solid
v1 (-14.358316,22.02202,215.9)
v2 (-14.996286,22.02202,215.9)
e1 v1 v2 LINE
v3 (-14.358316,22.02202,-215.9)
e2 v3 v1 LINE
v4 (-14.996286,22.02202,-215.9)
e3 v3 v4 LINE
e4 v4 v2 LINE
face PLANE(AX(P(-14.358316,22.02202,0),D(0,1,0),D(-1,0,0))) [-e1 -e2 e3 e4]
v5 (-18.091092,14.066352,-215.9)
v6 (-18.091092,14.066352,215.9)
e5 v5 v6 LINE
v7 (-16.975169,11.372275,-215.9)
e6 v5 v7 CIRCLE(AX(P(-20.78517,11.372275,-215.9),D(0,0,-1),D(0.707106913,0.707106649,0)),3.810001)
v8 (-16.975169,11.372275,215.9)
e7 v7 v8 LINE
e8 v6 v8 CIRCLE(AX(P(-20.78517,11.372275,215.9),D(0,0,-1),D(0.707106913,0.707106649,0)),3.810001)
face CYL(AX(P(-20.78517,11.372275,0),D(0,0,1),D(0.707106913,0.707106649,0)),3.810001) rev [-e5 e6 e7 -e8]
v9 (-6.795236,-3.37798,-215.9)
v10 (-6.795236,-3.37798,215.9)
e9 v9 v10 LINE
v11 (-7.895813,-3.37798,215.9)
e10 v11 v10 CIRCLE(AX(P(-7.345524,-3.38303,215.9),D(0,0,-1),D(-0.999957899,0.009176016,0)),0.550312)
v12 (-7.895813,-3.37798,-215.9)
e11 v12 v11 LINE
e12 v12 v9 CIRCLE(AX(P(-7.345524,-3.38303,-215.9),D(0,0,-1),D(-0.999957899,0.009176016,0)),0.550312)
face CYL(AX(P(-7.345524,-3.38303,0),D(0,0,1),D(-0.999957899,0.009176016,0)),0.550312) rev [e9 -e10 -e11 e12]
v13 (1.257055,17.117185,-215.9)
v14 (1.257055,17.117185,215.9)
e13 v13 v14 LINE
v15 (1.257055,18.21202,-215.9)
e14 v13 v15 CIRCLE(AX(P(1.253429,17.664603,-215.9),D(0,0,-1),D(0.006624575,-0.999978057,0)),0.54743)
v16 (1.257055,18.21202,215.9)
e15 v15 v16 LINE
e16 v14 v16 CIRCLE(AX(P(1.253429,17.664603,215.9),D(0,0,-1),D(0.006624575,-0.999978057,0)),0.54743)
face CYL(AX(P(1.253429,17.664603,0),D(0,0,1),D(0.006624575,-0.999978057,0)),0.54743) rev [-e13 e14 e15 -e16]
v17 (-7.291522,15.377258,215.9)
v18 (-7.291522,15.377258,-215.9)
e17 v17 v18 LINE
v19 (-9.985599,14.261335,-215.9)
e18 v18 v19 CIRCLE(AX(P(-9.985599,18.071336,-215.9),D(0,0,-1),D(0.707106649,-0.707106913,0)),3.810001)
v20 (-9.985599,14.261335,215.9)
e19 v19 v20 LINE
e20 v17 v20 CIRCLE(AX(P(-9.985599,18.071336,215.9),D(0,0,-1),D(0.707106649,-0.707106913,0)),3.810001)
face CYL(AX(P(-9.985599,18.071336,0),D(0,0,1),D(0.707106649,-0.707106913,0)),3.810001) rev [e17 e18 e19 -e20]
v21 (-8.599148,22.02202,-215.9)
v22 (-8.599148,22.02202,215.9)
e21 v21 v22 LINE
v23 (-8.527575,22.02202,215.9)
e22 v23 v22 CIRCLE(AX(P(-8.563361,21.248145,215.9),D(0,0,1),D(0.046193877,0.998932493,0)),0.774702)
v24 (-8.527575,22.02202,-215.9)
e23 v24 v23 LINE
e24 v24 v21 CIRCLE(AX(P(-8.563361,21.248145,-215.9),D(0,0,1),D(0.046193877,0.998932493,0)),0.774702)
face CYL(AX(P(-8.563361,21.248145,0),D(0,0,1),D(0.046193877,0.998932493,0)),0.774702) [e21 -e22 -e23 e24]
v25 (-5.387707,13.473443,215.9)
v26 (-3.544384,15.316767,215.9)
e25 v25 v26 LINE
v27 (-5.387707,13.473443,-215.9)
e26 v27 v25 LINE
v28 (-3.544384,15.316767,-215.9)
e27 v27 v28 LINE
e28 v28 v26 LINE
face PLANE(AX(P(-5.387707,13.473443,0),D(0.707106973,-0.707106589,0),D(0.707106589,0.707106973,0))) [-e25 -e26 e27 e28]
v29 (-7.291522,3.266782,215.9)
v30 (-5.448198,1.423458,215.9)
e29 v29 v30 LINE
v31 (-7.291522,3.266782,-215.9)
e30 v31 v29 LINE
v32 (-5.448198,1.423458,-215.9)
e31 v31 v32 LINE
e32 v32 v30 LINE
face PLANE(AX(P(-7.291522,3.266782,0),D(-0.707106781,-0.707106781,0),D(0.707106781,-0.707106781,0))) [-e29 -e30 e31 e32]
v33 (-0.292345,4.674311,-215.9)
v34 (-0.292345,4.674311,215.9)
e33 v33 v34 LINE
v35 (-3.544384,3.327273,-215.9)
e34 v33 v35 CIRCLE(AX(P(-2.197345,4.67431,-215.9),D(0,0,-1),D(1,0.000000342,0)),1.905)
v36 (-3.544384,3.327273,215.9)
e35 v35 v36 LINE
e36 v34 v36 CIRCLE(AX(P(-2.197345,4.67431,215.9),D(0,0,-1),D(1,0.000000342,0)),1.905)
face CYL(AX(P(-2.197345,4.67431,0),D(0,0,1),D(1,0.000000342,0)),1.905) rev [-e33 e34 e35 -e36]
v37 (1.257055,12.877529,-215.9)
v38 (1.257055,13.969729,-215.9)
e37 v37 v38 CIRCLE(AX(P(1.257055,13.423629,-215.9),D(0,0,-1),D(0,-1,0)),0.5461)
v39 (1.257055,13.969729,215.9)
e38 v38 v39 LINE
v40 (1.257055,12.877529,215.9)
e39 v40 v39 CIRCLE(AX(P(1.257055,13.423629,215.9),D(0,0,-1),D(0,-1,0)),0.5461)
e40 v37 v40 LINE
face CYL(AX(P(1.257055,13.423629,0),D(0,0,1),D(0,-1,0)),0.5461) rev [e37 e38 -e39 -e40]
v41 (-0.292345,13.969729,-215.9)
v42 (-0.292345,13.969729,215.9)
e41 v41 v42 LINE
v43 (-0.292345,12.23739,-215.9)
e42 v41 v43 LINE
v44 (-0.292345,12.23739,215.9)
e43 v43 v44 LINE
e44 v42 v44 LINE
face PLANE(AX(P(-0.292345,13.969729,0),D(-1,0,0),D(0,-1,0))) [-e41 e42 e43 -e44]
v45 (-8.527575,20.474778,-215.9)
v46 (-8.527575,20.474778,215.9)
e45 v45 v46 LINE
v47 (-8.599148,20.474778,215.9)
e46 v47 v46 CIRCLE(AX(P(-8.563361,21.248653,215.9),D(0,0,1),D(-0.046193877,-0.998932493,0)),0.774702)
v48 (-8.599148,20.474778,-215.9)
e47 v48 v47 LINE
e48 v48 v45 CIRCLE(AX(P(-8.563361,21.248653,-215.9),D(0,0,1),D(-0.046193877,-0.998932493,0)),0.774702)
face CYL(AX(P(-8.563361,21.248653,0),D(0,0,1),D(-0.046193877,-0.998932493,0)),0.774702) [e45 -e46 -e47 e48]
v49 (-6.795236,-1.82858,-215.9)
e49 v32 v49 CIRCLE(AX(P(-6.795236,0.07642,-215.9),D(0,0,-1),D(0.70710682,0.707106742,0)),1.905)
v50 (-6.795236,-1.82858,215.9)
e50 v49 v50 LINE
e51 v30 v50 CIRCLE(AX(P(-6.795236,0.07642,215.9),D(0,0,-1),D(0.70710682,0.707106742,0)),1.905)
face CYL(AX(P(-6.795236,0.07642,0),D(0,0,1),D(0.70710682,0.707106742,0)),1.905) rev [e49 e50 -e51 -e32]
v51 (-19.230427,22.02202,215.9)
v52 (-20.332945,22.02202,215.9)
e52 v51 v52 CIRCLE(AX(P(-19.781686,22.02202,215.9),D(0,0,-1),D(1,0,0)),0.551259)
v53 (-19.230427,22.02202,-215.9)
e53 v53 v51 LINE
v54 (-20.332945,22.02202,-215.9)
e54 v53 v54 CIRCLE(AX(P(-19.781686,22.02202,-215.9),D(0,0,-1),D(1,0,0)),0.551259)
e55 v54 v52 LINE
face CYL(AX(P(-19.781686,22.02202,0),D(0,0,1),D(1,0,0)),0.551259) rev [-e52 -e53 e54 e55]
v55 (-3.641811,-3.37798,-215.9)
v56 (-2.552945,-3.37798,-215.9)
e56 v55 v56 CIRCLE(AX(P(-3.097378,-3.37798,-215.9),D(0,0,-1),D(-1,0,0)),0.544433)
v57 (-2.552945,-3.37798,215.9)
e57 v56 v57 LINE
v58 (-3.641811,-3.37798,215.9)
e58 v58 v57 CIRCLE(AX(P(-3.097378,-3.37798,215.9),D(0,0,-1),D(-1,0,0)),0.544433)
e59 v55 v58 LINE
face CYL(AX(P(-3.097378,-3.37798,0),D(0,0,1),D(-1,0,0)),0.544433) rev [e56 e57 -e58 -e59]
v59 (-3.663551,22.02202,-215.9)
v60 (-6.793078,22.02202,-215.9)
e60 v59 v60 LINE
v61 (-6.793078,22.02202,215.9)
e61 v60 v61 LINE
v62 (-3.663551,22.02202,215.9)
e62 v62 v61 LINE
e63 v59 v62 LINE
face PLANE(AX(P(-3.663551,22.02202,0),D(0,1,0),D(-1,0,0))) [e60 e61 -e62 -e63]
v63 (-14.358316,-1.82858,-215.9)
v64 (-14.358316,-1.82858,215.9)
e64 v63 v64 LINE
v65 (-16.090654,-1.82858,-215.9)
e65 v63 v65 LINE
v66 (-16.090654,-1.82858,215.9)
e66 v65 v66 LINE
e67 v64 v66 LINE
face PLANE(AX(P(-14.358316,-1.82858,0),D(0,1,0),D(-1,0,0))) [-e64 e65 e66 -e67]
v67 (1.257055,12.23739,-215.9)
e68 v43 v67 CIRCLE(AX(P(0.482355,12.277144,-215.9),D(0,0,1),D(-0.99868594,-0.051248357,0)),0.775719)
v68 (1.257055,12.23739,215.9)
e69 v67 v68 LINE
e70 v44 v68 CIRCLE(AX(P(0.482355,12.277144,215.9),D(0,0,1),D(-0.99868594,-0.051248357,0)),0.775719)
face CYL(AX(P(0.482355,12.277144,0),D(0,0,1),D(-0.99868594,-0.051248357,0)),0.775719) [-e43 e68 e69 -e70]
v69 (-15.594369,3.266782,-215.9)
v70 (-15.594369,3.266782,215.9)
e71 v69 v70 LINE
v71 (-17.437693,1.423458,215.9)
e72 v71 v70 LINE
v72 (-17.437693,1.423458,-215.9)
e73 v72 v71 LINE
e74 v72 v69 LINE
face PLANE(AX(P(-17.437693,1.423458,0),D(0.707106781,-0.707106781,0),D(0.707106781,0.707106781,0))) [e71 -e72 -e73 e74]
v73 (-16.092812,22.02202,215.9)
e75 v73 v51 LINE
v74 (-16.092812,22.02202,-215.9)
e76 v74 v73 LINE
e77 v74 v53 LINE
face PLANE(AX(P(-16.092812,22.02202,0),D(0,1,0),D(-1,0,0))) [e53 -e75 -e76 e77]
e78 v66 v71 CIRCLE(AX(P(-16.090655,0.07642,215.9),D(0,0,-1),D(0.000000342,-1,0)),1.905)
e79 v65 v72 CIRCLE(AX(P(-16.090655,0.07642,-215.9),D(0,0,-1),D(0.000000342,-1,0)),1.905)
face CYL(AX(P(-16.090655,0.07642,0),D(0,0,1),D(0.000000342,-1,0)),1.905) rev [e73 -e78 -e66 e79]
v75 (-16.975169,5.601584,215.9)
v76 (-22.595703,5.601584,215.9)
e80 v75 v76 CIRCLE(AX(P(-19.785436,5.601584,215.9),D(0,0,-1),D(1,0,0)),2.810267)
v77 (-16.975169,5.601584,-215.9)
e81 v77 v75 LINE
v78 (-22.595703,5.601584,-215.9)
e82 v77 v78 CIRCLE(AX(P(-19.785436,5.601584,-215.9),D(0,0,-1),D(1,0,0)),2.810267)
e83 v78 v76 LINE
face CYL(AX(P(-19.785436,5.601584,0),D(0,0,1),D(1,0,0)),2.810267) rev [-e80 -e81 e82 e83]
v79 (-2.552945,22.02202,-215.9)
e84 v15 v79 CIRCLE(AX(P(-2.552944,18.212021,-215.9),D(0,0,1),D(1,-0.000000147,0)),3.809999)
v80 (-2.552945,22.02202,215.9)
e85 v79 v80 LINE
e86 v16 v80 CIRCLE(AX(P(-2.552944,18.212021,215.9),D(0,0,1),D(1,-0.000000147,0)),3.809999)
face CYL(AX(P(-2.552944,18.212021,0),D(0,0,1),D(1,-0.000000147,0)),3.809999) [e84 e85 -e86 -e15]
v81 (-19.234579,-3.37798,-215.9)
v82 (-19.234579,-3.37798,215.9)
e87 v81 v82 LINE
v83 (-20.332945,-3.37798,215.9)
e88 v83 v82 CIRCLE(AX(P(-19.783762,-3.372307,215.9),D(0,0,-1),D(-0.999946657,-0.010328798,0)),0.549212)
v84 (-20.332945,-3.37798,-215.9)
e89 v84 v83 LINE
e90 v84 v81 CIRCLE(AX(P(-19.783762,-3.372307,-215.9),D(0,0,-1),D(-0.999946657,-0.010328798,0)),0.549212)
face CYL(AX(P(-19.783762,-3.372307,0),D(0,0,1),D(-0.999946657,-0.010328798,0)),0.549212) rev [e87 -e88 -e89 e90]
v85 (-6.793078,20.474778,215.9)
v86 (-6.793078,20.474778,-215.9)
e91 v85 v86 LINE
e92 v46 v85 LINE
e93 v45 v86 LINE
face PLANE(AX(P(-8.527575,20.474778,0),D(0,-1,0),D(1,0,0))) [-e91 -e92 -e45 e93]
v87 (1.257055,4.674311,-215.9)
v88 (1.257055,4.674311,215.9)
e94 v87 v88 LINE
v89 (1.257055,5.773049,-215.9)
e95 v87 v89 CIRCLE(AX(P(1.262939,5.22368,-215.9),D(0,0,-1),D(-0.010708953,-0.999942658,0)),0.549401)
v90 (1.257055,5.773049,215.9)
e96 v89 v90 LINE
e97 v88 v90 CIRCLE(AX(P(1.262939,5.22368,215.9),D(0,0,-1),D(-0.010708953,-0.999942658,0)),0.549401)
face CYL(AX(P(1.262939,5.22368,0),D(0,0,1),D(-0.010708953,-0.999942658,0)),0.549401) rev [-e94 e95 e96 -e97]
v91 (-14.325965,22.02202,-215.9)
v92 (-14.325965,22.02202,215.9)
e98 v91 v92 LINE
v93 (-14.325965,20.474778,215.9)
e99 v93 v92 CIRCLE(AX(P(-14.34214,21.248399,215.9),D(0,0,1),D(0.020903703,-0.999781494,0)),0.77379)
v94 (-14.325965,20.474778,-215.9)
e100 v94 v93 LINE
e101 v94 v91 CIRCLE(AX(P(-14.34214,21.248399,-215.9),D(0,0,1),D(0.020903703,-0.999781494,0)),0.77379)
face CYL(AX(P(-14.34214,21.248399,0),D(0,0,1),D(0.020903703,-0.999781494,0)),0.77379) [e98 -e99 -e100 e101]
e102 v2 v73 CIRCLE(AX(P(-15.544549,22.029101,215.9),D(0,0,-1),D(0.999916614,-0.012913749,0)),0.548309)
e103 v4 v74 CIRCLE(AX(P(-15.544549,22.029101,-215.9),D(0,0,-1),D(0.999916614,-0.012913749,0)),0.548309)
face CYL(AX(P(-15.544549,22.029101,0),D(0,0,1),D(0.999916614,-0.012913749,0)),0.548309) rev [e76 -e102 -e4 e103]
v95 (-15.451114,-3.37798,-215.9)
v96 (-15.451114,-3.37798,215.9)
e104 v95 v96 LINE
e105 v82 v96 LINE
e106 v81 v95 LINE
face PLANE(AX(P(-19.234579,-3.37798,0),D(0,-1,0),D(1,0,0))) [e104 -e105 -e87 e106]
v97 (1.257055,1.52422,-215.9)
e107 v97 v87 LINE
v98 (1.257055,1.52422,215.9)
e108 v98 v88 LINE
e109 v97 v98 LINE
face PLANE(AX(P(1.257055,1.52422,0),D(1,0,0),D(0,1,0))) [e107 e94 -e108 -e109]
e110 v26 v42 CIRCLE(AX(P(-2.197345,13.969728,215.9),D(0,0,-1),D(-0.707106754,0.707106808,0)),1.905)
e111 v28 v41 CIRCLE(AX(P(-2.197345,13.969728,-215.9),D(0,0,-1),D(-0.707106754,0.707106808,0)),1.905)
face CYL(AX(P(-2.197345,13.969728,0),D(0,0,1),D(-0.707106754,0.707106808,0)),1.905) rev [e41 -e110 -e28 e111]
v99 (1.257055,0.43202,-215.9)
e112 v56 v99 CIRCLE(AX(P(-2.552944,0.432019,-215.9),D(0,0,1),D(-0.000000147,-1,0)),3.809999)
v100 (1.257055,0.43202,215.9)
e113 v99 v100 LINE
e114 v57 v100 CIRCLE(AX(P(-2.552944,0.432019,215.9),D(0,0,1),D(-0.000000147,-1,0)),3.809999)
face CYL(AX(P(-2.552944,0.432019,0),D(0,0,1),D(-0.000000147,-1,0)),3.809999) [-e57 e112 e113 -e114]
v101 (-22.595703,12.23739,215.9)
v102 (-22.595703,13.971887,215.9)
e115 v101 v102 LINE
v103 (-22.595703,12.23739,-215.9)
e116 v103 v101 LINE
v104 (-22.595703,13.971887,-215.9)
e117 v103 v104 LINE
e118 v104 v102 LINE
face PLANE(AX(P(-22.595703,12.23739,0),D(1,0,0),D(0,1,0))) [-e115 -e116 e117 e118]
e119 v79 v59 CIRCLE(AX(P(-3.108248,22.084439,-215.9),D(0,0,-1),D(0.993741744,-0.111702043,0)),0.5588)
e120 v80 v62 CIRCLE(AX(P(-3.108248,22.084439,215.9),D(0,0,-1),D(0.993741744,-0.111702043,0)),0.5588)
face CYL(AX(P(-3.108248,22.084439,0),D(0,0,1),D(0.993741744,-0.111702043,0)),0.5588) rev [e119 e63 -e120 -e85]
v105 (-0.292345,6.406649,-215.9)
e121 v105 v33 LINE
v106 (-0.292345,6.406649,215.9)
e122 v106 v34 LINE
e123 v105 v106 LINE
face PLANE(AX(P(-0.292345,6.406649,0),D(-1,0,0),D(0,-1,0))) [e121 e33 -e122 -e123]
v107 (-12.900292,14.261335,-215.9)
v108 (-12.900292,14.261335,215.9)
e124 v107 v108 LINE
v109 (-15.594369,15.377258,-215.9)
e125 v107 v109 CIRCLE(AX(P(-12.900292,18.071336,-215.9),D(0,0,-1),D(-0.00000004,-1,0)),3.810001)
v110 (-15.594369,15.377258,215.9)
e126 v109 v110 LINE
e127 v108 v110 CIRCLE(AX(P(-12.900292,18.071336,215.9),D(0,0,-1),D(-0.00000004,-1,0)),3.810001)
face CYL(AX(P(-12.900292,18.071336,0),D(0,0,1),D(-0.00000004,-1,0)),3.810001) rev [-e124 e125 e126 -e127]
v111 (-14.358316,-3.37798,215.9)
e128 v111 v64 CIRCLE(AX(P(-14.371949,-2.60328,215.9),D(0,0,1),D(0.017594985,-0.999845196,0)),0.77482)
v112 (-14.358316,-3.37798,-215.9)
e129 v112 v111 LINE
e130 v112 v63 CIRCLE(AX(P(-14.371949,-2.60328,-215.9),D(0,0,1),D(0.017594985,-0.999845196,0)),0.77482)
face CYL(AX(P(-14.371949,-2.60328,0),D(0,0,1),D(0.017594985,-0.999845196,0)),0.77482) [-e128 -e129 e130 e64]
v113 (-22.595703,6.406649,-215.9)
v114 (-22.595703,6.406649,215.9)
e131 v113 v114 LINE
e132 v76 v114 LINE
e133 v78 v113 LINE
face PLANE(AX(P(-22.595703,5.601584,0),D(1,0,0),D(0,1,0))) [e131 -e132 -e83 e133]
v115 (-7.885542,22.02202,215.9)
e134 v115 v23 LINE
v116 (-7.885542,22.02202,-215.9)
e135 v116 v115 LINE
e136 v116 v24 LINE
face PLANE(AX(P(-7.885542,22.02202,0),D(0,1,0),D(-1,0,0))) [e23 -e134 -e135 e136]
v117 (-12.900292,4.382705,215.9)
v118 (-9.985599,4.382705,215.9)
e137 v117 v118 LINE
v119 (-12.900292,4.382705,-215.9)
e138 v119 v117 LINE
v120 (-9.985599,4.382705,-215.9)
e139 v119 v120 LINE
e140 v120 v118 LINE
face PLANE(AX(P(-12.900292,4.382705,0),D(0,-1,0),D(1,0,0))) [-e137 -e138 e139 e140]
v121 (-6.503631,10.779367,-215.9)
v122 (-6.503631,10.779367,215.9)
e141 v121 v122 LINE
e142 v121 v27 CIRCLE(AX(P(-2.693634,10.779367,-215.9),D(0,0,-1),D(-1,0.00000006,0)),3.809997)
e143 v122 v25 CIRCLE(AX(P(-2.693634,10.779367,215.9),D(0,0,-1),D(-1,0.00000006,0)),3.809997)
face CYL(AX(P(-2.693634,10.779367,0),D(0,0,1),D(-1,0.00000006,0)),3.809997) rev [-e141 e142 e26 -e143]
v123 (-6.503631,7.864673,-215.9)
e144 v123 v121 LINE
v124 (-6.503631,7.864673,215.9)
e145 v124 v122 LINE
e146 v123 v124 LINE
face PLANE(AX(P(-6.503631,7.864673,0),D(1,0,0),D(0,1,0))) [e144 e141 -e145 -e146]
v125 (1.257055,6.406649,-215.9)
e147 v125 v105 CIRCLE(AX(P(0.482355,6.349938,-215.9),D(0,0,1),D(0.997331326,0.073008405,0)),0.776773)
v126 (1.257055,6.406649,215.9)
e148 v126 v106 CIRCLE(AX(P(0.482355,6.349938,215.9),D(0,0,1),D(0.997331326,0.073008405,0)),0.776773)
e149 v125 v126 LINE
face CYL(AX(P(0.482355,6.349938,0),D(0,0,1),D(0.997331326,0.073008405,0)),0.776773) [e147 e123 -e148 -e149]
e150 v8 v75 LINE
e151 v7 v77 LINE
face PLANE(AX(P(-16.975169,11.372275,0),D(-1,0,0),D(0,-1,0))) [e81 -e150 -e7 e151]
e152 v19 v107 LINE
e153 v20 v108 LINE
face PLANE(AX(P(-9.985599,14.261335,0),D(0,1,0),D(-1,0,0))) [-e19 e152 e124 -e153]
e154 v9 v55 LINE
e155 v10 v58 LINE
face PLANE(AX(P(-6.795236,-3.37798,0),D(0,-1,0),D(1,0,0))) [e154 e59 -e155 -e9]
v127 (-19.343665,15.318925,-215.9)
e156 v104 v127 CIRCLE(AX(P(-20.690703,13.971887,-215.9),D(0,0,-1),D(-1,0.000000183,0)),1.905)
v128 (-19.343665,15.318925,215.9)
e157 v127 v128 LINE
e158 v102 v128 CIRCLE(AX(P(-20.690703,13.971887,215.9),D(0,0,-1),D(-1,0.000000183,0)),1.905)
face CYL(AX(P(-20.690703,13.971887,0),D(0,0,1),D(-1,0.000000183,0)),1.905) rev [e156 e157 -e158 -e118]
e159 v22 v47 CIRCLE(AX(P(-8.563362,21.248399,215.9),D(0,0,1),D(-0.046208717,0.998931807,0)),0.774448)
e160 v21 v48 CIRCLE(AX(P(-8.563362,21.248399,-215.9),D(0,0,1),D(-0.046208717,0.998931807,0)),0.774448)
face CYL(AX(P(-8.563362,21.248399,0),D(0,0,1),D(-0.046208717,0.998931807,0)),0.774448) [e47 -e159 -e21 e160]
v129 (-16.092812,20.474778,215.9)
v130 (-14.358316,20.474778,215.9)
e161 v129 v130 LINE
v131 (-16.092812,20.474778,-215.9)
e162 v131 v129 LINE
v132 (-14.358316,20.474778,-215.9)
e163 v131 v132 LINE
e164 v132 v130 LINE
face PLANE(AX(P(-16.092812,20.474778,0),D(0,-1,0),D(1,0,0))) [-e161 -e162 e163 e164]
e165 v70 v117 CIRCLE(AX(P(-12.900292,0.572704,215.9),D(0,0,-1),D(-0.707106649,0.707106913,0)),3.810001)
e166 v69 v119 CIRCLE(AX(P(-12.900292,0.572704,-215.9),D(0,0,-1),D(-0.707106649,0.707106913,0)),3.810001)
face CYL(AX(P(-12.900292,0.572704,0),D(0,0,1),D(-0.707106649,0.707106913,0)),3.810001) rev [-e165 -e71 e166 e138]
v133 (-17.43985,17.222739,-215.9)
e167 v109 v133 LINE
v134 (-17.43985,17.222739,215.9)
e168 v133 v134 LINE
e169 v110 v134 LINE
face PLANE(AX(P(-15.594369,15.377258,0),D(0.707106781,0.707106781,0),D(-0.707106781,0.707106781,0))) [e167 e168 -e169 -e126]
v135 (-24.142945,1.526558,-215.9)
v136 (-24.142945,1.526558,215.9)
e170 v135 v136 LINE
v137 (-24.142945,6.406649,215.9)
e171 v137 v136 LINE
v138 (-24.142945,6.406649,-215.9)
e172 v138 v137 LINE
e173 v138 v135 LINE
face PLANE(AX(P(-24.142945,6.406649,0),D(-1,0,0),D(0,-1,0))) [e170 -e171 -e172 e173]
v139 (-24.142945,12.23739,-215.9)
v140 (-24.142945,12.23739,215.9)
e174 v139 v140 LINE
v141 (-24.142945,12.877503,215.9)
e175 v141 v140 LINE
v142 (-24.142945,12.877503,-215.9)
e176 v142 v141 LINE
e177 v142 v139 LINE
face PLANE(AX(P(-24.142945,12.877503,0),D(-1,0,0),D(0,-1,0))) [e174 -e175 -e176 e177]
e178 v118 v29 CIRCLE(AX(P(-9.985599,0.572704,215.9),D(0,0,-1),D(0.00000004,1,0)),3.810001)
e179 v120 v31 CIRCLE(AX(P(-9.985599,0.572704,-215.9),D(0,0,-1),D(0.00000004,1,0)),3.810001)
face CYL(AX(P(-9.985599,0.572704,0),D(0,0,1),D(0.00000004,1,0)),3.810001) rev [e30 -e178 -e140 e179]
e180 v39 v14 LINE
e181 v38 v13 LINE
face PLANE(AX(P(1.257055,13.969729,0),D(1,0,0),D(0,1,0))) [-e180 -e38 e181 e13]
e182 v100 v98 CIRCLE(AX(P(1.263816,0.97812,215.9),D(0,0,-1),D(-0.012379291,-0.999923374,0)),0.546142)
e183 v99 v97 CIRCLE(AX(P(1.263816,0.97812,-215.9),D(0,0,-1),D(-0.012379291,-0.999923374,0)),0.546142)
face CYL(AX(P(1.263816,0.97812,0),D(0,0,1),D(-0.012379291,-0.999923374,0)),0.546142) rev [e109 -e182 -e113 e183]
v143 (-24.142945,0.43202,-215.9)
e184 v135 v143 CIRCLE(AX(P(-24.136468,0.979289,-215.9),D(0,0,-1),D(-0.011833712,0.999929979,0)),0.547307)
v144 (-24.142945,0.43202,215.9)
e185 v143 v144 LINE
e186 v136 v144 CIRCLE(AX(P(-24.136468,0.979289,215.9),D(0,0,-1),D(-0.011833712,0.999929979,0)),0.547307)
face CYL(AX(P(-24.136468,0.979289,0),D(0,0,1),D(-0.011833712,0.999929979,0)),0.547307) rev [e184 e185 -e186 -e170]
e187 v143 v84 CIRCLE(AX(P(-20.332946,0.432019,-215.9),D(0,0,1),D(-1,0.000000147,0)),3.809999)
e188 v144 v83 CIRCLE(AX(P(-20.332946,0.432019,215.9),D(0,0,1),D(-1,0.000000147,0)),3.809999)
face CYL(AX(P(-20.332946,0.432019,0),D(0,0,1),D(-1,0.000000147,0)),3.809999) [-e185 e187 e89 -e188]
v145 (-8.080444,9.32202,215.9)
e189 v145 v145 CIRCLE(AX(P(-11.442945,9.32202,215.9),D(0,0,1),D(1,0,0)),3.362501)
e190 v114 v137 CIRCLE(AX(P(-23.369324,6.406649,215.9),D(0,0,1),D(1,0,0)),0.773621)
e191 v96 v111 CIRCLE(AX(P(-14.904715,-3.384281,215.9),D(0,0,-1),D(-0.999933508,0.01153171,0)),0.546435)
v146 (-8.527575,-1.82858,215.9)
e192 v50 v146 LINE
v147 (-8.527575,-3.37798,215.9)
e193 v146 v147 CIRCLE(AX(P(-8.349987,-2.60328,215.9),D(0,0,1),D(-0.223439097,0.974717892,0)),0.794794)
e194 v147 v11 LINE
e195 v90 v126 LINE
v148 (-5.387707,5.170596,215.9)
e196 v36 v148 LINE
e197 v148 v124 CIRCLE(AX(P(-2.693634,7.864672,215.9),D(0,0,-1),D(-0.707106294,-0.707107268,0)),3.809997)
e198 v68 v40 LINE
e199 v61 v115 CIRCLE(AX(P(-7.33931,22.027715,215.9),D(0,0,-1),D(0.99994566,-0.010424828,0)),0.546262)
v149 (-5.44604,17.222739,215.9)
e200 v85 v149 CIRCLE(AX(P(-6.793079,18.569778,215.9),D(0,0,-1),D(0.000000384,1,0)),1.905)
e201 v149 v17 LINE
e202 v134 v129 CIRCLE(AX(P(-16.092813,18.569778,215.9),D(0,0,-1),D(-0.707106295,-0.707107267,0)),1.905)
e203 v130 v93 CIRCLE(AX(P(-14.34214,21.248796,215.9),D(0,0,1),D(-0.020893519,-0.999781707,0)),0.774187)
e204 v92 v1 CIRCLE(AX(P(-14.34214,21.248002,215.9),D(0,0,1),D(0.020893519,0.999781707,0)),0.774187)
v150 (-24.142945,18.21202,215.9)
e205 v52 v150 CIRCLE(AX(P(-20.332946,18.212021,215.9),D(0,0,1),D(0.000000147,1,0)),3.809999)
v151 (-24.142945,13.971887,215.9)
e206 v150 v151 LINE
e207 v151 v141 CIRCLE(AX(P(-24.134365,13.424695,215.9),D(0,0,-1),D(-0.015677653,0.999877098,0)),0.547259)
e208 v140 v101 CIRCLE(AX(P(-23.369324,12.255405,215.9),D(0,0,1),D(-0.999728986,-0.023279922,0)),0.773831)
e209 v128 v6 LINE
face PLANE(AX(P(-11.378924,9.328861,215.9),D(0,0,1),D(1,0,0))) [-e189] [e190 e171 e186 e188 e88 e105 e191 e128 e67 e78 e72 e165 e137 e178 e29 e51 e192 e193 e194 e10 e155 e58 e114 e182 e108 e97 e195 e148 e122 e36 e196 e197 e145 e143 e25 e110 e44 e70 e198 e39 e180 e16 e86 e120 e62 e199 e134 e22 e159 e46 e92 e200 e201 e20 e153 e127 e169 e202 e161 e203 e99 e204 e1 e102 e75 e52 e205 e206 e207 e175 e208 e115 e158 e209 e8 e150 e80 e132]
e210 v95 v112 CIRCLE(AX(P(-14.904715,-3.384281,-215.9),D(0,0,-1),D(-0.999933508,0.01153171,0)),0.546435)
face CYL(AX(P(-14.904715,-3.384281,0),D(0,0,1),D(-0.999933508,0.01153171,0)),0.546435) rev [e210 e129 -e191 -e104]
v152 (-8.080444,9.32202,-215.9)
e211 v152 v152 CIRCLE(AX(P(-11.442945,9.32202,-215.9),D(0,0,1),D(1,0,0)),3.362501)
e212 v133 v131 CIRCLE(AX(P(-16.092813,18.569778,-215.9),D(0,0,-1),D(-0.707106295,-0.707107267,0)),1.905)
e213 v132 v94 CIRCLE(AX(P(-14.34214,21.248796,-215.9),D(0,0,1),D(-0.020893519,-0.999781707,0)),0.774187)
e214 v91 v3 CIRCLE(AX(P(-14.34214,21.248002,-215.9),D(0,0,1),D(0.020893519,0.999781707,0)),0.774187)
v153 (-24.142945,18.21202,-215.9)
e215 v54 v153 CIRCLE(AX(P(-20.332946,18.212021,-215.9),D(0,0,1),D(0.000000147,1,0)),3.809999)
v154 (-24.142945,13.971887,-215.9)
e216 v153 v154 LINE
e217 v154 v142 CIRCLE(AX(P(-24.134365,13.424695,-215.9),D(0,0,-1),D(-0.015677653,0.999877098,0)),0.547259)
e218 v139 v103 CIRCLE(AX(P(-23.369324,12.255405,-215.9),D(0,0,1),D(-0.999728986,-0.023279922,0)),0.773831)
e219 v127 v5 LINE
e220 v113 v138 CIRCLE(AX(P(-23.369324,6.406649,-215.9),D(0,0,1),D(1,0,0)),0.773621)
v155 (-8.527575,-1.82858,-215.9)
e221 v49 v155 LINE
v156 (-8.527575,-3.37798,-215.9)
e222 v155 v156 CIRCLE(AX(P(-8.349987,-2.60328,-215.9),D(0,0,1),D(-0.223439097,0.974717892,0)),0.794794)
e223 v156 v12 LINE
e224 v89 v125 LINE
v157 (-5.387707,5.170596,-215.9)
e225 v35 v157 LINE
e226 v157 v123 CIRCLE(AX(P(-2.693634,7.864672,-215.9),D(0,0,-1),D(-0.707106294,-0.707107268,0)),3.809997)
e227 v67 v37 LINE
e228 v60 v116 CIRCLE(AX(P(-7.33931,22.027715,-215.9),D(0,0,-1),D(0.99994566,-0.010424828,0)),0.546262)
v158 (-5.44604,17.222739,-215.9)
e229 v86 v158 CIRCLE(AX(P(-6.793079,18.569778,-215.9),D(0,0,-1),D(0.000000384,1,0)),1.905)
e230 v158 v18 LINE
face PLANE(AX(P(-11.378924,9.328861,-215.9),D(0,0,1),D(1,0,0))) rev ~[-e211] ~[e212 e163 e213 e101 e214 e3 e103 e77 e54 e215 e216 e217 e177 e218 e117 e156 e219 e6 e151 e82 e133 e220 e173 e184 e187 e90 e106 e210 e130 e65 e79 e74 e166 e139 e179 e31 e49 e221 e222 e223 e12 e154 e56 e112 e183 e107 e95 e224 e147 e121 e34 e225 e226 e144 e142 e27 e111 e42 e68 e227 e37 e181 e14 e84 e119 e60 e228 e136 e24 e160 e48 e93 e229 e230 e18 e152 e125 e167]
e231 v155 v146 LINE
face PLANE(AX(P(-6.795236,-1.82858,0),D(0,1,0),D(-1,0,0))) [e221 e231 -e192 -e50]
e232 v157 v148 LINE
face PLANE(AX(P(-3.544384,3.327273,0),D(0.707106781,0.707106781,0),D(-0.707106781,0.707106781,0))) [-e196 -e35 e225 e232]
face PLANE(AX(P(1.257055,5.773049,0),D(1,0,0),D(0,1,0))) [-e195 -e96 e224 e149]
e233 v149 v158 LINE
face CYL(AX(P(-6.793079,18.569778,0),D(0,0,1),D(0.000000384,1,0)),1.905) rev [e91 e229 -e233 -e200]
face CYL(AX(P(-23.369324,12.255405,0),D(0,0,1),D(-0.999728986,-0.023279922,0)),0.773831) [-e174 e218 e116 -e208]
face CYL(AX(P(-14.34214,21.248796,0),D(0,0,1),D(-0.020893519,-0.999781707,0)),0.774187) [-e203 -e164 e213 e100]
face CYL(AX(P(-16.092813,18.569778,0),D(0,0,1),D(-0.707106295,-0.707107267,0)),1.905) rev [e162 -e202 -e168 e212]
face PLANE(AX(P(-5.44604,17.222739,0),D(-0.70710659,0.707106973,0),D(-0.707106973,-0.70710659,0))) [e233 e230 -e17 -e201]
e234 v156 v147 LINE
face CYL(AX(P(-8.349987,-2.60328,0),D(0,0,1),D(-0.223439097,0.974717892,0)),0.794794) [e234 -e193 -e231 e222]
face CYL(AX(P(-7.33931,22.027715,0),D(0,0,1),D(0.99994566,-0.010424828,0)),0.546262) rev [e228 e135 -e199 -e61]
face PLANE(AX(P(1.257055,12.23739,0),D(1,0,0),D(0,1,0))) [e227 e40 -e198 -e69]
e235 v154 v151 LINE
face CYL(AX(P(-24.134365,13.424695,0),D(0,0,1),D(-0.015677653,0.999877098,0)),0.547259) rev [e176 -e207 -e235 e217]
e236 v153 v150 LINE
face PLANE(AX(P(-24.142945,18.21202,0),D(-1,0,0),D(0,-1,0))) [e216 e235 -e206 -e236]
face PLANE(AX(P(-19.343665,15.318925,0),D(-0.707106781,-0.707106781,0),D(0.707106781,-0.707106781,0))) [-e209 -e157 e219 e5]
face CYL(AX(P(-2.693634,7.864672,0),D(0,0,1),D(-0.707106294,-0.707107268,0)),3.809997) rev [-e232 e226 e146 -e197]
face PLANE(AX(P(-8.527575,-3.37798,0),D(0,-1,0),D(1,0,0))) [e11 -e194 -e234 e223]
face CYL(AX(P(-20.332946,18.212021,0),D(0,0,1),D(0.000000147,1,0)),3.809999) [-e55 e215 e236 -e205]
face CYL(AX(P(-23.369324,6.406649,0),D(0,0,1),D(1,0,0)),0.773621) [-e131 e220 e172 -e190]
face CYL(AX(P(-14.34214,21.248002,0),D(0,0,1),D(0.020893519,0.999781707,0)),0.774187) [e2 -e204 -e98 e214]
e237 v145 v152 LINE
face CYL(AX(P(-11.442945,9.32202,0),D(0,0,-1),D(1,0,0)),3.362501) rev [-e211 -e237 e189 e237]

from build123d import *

# Parameters (mm, degrees)
F0_R     = 3.362501
F1_DEPTH = 215.9


with BuildPart() as f1:
    # F0 (on Top) → F1 (new body, symmetric)
    with BuildSketch(Plane.XY):
        with BuildLine():
            ThreePointArc((-7.291522, 15.377258), (-8.527575, 14.551354), (-9.985599, 14.261335))
            Line((-9.985599, 14.261335), (-12.900292, 14.261335))
            ThreePointArc((-12.900292, 14.261335), (-14.358316, 14.551354), (-15.594369, 15.377258))
            Line((-15.594369, 15.377258), (-17.43985, 17.222739))
            ThreePointArc((-17.43985, 17.222739), (-17.852803, 19.29879), (-16.092812, 20.474778))
            Line((-16.092812, 20.474778), (-14.358316, 20.474778))
            Line((-14.358316, 20.474778), (-14.325965, 20.474778))
            ThreePointArc((-14.325965, 20.474778), (-13.56835, 21.248399), (-14.325965, 22.02202))
            Line((-14.325965, 22.02202), (-14.358316, 22.02202))
            Line((-14.358316, 22.02202), (-14.996286, 22.02202))
            ThreePointArc((-14.996286, 22.02202), (-15.544549, 21.480792), (-16.092812, 22.02202))
            Line((-16.092812, 22.02202), (-19.230427, 22.02202))
            ThreePointArc((-19.230427, 22.02202), (-19.781686, 21.470761), (-20.332945, 22.02202))
            ThreePointArc((-20.332945, 22.02202), (-23.027022, 20.906097), (-24.142945, 18.21202))
            Line((-24.142945, 18.21202), (-24.142945, 17.126744))
            Line((-24.142945, 17.126744), (-24.142945, 13.971887))
            ThreePointArc((-24.142945, 13.971887), (-23.587106, 13.424695), (-24.142945, 12.877503))
            Line((-24.142945, 12.877503), (-24.142945, 12.23739))
            ThreePointArc((-24.142945, 12.23739), (-23.369324, 11.481574), (-22.595703, 12.23739))
            Line((-22.595703, 12.23739), (-22.595703, 13.971887))
            ThreePointArc((-22.595703, 13.971887), (-21.419715, 15.731877), (-19.343665, 15.318925))
            Line((-19.343665, 15.318925), (-18.091092, 14.066352))
            ThreePointArc((-18.091092, 14.066352), (-17.265188, 12.830299), (-16.975169, 11.372275))
            Line((-16.975169, 11.372275), (-16.975169, 5.601584))
            ThreePointArc((-16.975169, 5.601584), (-19.785436, 2.791317), (-22.595703, 5.601584))
            Line((-22.595703, 5.601584), (-22.595703, 6.406649))
            ThreePointArc((-22.595703, 6.406649), (-23.369324, 7.18027), (-24.142945, 6.406649))
            Line((-24.142945, 6.406649), (-24.142945, 5.771259))
            Line((-24.142945, 5.771259), (-24.142945, 1.526558))
            ThreePointArc((-24.142945, 1.526558), (-23.589161, 0.979289), (-24.142945, 0.43202))
            ThreePointArc((-24.142945, 0.43202), (-23.027022, -2.262057), (-20.332945, -3.37798))
            ThreePointArc((-20.332945, -3.37798), (-19.783762, -2.823095), (-19.234579, -3.37798))
            Line((-19.234579, -3.37798), (-15.451114, -3.37798))
            ThreePointArc((-15.451114, -3.37798), (-14.904715, -2.837846), (-14.358316, -3.37798))
            ThreePointArc((-14.358316, -3.37798), (-13.597129, -2.60328), (-14.358316, -1.82858))
            Line((-14.358316, -1.82858), (-16.090654, -1.82858))
            ThreePointArc((-16.090654, -1.82858), (-17.850645, -0.652592), (-17.437693, 1.423458))
            Line((-17.437693, 1.423458), (-15.594369, 3.266782))
            ThreePointArc((-15.594369, 3.266782), (-14.358316, 4.092686), (-12.900292, 4.382705))
            Line((-12.900292, 4.382705), (-9.985599, 4.382705))
            ThreePointArc((-9.985599, 4.382705), (-8.527575, 4.092686), (-7.291522, 3.266782))
            Line((-7.291522, 3.266782), (-5.448198, 1.423458))
            ThreePointArc((-5.448198, 1.423458), (-5.035246, -0.652592), (-6.795236, -1.82858))
            Line((-6.795236, -1.82858), (-8.527575, -1.82858))
            ThreePointArc((-8.527575, -1.82858), (-9.144781, -2.60328), (-8.527575, -3.37798))
            Line((-8.527575, -3.37798), (-7.895813, -3.37798))
            ThreePointArc((-7.895813, -3.37798), (-7.345525, -2.832718), (-6.795236, -3.37798))
            Line((-6.795236, -3.37798), (-3.641811, -3.37798))
            ThreePointArc((-3.641811, -3.37798), (-3.097378, -2.833547), (-2.552945, -3.37798))
            ThreePointArc((-2.552945, -3.37798), (0.141132, -2.262057), (1.257055, 0.43202))
            ThreePointArc((1.257055, 0.43202), (0.717674, 0.97812), (1.257055, 1.52422))
            Line((1.257055, 1.52422), (1.257055, 4.674311))
            ThreePointArc((1.257055, 4.674311), (0.713538, 5.22368), (1.257055, 5.773049))
            Line((1.257055, 5.773049), (1.257055, 6.406649))
            ThreePointArc((1.257055, 6.406649), (0.482355, 7.126711), (-0.292345, 6.406649))
            Line((-0.292345, 6.406649), (-0.292345, 4.674311))
            ThreePointArc((-0.292345, 4.674311), (-1.468333, 2.91432), (-3.544384, 3.327273))
            Line((-3.544384, 3.327273), (-5.387707, 5.170596))
            ThreePointArc((-5.387707, 5.170596), (-6.213612, 6.406649), (-6.503631, 7.864673))
            Line((-6.503631, 7.864673), (-6.503631, 10.779367))
            ThreePointArc((-6.503631, 10.779367), (-6.213612, 12.23739), (-5.387707, 13.473443))
            Line((-5.387707, 13.473443), (-3.544384, 15.316767))
            ThreePointArc((-3.544384, 15.316767), (-1.468333, 15.729719), (-0.292345, 13.969729))
            Line((-0.292345, 13.969729), (-0.292345, 12.23739))
            ThreePointArc((-0.292345, 12.23739), (0.482355, 11.501425), (1.257055, 12.23739))
            Line((1.257055, 12.23739), (1.257055, 12.877529))
            ThreePointArc((1.257055, 12.877529), (0.710955, 13.423629), (1.257055, 13.969729))
            Line((1.257055, 13.969729), (1.257055, 17.117185))
            ThreePointArc((1.257055, 17.117185), (0.705999, 17.664602), (1.257055, 18.21202))
            ThreePointArc((1.257055, 18.21202), (0.141132, 20.906097), (-2.552945, 22.02202))
            ThreePointArc((-2.552945, 22.02202), (-3.108248, 21.525639), (-3.663551, 22.02202))
            Line((-3.663551, 22.02202), (-6.793078, 22.02202))
            ThreePointArc((-6.793078, 22.02202), (-7.33931, 21.481453), (-7.885542, 22.02202))
            Line((-7.885542, 22.02202), (-8.527575, 22.02202))
            Line((-8.527575, 22.02202), (-8.599148, 22.02202))
            ThreePointArc((-8.599148, 22.02202), (-9.33781, 21.248399), (-8.599148, 20.474778))
            Line((-8.599148, 20.474778), (-8.527575, 20.474778))
            Line((-8.527575, 20.474778), (-6.793078, 20.474778))
            ThreePointArc((-6.793078, 20.474778), (-5.033088, 19.29879), (-5.44604, 17.222739))
            Line((-5.44604, 17.222739), (-7.291522, 15.377258))
        make_face()
        with Locations((-11.442945, 9.32202)):
            Circle(F0_R, mode=Mode.SUBTRACT)
        with BuildLine():
            ThreePointArc((-8.599148, 20.474778), (-8.563361, 20.473951), (-8.527575, 20.474778))
            Line((-8.527575, 20.474778), (-8.599148, 20.474778))
        make_face()
        with BuildLine():
            Line((-14.325965, 20.474778), (-14.358316, 20.474778))
            ThreePointArc((-14.358316, 20.474778), (-14.34214, 20.474609), (-14.325965, 20.474778))
        make_face()
        with BuildLine():
            ThreePointArc((-8.527575, 22.02202), (-8.563361, 22.022847), (-8.599148, 22.02202))
            Line((-8.599148, 22.02202), (-8.527575, 22.02202))
        make_face()
        with BuildLine():
            Line((-14.358316, 22.02202), (-14.325965, 22.02202))
            ThreePointArc((-14.325965, 22.02202), (-14.34214, 22.022189), (-14.358316, 22.02202))
        make_face()
    extrude(amount=F1_DEPTH, both=True)


solid = f1.part
